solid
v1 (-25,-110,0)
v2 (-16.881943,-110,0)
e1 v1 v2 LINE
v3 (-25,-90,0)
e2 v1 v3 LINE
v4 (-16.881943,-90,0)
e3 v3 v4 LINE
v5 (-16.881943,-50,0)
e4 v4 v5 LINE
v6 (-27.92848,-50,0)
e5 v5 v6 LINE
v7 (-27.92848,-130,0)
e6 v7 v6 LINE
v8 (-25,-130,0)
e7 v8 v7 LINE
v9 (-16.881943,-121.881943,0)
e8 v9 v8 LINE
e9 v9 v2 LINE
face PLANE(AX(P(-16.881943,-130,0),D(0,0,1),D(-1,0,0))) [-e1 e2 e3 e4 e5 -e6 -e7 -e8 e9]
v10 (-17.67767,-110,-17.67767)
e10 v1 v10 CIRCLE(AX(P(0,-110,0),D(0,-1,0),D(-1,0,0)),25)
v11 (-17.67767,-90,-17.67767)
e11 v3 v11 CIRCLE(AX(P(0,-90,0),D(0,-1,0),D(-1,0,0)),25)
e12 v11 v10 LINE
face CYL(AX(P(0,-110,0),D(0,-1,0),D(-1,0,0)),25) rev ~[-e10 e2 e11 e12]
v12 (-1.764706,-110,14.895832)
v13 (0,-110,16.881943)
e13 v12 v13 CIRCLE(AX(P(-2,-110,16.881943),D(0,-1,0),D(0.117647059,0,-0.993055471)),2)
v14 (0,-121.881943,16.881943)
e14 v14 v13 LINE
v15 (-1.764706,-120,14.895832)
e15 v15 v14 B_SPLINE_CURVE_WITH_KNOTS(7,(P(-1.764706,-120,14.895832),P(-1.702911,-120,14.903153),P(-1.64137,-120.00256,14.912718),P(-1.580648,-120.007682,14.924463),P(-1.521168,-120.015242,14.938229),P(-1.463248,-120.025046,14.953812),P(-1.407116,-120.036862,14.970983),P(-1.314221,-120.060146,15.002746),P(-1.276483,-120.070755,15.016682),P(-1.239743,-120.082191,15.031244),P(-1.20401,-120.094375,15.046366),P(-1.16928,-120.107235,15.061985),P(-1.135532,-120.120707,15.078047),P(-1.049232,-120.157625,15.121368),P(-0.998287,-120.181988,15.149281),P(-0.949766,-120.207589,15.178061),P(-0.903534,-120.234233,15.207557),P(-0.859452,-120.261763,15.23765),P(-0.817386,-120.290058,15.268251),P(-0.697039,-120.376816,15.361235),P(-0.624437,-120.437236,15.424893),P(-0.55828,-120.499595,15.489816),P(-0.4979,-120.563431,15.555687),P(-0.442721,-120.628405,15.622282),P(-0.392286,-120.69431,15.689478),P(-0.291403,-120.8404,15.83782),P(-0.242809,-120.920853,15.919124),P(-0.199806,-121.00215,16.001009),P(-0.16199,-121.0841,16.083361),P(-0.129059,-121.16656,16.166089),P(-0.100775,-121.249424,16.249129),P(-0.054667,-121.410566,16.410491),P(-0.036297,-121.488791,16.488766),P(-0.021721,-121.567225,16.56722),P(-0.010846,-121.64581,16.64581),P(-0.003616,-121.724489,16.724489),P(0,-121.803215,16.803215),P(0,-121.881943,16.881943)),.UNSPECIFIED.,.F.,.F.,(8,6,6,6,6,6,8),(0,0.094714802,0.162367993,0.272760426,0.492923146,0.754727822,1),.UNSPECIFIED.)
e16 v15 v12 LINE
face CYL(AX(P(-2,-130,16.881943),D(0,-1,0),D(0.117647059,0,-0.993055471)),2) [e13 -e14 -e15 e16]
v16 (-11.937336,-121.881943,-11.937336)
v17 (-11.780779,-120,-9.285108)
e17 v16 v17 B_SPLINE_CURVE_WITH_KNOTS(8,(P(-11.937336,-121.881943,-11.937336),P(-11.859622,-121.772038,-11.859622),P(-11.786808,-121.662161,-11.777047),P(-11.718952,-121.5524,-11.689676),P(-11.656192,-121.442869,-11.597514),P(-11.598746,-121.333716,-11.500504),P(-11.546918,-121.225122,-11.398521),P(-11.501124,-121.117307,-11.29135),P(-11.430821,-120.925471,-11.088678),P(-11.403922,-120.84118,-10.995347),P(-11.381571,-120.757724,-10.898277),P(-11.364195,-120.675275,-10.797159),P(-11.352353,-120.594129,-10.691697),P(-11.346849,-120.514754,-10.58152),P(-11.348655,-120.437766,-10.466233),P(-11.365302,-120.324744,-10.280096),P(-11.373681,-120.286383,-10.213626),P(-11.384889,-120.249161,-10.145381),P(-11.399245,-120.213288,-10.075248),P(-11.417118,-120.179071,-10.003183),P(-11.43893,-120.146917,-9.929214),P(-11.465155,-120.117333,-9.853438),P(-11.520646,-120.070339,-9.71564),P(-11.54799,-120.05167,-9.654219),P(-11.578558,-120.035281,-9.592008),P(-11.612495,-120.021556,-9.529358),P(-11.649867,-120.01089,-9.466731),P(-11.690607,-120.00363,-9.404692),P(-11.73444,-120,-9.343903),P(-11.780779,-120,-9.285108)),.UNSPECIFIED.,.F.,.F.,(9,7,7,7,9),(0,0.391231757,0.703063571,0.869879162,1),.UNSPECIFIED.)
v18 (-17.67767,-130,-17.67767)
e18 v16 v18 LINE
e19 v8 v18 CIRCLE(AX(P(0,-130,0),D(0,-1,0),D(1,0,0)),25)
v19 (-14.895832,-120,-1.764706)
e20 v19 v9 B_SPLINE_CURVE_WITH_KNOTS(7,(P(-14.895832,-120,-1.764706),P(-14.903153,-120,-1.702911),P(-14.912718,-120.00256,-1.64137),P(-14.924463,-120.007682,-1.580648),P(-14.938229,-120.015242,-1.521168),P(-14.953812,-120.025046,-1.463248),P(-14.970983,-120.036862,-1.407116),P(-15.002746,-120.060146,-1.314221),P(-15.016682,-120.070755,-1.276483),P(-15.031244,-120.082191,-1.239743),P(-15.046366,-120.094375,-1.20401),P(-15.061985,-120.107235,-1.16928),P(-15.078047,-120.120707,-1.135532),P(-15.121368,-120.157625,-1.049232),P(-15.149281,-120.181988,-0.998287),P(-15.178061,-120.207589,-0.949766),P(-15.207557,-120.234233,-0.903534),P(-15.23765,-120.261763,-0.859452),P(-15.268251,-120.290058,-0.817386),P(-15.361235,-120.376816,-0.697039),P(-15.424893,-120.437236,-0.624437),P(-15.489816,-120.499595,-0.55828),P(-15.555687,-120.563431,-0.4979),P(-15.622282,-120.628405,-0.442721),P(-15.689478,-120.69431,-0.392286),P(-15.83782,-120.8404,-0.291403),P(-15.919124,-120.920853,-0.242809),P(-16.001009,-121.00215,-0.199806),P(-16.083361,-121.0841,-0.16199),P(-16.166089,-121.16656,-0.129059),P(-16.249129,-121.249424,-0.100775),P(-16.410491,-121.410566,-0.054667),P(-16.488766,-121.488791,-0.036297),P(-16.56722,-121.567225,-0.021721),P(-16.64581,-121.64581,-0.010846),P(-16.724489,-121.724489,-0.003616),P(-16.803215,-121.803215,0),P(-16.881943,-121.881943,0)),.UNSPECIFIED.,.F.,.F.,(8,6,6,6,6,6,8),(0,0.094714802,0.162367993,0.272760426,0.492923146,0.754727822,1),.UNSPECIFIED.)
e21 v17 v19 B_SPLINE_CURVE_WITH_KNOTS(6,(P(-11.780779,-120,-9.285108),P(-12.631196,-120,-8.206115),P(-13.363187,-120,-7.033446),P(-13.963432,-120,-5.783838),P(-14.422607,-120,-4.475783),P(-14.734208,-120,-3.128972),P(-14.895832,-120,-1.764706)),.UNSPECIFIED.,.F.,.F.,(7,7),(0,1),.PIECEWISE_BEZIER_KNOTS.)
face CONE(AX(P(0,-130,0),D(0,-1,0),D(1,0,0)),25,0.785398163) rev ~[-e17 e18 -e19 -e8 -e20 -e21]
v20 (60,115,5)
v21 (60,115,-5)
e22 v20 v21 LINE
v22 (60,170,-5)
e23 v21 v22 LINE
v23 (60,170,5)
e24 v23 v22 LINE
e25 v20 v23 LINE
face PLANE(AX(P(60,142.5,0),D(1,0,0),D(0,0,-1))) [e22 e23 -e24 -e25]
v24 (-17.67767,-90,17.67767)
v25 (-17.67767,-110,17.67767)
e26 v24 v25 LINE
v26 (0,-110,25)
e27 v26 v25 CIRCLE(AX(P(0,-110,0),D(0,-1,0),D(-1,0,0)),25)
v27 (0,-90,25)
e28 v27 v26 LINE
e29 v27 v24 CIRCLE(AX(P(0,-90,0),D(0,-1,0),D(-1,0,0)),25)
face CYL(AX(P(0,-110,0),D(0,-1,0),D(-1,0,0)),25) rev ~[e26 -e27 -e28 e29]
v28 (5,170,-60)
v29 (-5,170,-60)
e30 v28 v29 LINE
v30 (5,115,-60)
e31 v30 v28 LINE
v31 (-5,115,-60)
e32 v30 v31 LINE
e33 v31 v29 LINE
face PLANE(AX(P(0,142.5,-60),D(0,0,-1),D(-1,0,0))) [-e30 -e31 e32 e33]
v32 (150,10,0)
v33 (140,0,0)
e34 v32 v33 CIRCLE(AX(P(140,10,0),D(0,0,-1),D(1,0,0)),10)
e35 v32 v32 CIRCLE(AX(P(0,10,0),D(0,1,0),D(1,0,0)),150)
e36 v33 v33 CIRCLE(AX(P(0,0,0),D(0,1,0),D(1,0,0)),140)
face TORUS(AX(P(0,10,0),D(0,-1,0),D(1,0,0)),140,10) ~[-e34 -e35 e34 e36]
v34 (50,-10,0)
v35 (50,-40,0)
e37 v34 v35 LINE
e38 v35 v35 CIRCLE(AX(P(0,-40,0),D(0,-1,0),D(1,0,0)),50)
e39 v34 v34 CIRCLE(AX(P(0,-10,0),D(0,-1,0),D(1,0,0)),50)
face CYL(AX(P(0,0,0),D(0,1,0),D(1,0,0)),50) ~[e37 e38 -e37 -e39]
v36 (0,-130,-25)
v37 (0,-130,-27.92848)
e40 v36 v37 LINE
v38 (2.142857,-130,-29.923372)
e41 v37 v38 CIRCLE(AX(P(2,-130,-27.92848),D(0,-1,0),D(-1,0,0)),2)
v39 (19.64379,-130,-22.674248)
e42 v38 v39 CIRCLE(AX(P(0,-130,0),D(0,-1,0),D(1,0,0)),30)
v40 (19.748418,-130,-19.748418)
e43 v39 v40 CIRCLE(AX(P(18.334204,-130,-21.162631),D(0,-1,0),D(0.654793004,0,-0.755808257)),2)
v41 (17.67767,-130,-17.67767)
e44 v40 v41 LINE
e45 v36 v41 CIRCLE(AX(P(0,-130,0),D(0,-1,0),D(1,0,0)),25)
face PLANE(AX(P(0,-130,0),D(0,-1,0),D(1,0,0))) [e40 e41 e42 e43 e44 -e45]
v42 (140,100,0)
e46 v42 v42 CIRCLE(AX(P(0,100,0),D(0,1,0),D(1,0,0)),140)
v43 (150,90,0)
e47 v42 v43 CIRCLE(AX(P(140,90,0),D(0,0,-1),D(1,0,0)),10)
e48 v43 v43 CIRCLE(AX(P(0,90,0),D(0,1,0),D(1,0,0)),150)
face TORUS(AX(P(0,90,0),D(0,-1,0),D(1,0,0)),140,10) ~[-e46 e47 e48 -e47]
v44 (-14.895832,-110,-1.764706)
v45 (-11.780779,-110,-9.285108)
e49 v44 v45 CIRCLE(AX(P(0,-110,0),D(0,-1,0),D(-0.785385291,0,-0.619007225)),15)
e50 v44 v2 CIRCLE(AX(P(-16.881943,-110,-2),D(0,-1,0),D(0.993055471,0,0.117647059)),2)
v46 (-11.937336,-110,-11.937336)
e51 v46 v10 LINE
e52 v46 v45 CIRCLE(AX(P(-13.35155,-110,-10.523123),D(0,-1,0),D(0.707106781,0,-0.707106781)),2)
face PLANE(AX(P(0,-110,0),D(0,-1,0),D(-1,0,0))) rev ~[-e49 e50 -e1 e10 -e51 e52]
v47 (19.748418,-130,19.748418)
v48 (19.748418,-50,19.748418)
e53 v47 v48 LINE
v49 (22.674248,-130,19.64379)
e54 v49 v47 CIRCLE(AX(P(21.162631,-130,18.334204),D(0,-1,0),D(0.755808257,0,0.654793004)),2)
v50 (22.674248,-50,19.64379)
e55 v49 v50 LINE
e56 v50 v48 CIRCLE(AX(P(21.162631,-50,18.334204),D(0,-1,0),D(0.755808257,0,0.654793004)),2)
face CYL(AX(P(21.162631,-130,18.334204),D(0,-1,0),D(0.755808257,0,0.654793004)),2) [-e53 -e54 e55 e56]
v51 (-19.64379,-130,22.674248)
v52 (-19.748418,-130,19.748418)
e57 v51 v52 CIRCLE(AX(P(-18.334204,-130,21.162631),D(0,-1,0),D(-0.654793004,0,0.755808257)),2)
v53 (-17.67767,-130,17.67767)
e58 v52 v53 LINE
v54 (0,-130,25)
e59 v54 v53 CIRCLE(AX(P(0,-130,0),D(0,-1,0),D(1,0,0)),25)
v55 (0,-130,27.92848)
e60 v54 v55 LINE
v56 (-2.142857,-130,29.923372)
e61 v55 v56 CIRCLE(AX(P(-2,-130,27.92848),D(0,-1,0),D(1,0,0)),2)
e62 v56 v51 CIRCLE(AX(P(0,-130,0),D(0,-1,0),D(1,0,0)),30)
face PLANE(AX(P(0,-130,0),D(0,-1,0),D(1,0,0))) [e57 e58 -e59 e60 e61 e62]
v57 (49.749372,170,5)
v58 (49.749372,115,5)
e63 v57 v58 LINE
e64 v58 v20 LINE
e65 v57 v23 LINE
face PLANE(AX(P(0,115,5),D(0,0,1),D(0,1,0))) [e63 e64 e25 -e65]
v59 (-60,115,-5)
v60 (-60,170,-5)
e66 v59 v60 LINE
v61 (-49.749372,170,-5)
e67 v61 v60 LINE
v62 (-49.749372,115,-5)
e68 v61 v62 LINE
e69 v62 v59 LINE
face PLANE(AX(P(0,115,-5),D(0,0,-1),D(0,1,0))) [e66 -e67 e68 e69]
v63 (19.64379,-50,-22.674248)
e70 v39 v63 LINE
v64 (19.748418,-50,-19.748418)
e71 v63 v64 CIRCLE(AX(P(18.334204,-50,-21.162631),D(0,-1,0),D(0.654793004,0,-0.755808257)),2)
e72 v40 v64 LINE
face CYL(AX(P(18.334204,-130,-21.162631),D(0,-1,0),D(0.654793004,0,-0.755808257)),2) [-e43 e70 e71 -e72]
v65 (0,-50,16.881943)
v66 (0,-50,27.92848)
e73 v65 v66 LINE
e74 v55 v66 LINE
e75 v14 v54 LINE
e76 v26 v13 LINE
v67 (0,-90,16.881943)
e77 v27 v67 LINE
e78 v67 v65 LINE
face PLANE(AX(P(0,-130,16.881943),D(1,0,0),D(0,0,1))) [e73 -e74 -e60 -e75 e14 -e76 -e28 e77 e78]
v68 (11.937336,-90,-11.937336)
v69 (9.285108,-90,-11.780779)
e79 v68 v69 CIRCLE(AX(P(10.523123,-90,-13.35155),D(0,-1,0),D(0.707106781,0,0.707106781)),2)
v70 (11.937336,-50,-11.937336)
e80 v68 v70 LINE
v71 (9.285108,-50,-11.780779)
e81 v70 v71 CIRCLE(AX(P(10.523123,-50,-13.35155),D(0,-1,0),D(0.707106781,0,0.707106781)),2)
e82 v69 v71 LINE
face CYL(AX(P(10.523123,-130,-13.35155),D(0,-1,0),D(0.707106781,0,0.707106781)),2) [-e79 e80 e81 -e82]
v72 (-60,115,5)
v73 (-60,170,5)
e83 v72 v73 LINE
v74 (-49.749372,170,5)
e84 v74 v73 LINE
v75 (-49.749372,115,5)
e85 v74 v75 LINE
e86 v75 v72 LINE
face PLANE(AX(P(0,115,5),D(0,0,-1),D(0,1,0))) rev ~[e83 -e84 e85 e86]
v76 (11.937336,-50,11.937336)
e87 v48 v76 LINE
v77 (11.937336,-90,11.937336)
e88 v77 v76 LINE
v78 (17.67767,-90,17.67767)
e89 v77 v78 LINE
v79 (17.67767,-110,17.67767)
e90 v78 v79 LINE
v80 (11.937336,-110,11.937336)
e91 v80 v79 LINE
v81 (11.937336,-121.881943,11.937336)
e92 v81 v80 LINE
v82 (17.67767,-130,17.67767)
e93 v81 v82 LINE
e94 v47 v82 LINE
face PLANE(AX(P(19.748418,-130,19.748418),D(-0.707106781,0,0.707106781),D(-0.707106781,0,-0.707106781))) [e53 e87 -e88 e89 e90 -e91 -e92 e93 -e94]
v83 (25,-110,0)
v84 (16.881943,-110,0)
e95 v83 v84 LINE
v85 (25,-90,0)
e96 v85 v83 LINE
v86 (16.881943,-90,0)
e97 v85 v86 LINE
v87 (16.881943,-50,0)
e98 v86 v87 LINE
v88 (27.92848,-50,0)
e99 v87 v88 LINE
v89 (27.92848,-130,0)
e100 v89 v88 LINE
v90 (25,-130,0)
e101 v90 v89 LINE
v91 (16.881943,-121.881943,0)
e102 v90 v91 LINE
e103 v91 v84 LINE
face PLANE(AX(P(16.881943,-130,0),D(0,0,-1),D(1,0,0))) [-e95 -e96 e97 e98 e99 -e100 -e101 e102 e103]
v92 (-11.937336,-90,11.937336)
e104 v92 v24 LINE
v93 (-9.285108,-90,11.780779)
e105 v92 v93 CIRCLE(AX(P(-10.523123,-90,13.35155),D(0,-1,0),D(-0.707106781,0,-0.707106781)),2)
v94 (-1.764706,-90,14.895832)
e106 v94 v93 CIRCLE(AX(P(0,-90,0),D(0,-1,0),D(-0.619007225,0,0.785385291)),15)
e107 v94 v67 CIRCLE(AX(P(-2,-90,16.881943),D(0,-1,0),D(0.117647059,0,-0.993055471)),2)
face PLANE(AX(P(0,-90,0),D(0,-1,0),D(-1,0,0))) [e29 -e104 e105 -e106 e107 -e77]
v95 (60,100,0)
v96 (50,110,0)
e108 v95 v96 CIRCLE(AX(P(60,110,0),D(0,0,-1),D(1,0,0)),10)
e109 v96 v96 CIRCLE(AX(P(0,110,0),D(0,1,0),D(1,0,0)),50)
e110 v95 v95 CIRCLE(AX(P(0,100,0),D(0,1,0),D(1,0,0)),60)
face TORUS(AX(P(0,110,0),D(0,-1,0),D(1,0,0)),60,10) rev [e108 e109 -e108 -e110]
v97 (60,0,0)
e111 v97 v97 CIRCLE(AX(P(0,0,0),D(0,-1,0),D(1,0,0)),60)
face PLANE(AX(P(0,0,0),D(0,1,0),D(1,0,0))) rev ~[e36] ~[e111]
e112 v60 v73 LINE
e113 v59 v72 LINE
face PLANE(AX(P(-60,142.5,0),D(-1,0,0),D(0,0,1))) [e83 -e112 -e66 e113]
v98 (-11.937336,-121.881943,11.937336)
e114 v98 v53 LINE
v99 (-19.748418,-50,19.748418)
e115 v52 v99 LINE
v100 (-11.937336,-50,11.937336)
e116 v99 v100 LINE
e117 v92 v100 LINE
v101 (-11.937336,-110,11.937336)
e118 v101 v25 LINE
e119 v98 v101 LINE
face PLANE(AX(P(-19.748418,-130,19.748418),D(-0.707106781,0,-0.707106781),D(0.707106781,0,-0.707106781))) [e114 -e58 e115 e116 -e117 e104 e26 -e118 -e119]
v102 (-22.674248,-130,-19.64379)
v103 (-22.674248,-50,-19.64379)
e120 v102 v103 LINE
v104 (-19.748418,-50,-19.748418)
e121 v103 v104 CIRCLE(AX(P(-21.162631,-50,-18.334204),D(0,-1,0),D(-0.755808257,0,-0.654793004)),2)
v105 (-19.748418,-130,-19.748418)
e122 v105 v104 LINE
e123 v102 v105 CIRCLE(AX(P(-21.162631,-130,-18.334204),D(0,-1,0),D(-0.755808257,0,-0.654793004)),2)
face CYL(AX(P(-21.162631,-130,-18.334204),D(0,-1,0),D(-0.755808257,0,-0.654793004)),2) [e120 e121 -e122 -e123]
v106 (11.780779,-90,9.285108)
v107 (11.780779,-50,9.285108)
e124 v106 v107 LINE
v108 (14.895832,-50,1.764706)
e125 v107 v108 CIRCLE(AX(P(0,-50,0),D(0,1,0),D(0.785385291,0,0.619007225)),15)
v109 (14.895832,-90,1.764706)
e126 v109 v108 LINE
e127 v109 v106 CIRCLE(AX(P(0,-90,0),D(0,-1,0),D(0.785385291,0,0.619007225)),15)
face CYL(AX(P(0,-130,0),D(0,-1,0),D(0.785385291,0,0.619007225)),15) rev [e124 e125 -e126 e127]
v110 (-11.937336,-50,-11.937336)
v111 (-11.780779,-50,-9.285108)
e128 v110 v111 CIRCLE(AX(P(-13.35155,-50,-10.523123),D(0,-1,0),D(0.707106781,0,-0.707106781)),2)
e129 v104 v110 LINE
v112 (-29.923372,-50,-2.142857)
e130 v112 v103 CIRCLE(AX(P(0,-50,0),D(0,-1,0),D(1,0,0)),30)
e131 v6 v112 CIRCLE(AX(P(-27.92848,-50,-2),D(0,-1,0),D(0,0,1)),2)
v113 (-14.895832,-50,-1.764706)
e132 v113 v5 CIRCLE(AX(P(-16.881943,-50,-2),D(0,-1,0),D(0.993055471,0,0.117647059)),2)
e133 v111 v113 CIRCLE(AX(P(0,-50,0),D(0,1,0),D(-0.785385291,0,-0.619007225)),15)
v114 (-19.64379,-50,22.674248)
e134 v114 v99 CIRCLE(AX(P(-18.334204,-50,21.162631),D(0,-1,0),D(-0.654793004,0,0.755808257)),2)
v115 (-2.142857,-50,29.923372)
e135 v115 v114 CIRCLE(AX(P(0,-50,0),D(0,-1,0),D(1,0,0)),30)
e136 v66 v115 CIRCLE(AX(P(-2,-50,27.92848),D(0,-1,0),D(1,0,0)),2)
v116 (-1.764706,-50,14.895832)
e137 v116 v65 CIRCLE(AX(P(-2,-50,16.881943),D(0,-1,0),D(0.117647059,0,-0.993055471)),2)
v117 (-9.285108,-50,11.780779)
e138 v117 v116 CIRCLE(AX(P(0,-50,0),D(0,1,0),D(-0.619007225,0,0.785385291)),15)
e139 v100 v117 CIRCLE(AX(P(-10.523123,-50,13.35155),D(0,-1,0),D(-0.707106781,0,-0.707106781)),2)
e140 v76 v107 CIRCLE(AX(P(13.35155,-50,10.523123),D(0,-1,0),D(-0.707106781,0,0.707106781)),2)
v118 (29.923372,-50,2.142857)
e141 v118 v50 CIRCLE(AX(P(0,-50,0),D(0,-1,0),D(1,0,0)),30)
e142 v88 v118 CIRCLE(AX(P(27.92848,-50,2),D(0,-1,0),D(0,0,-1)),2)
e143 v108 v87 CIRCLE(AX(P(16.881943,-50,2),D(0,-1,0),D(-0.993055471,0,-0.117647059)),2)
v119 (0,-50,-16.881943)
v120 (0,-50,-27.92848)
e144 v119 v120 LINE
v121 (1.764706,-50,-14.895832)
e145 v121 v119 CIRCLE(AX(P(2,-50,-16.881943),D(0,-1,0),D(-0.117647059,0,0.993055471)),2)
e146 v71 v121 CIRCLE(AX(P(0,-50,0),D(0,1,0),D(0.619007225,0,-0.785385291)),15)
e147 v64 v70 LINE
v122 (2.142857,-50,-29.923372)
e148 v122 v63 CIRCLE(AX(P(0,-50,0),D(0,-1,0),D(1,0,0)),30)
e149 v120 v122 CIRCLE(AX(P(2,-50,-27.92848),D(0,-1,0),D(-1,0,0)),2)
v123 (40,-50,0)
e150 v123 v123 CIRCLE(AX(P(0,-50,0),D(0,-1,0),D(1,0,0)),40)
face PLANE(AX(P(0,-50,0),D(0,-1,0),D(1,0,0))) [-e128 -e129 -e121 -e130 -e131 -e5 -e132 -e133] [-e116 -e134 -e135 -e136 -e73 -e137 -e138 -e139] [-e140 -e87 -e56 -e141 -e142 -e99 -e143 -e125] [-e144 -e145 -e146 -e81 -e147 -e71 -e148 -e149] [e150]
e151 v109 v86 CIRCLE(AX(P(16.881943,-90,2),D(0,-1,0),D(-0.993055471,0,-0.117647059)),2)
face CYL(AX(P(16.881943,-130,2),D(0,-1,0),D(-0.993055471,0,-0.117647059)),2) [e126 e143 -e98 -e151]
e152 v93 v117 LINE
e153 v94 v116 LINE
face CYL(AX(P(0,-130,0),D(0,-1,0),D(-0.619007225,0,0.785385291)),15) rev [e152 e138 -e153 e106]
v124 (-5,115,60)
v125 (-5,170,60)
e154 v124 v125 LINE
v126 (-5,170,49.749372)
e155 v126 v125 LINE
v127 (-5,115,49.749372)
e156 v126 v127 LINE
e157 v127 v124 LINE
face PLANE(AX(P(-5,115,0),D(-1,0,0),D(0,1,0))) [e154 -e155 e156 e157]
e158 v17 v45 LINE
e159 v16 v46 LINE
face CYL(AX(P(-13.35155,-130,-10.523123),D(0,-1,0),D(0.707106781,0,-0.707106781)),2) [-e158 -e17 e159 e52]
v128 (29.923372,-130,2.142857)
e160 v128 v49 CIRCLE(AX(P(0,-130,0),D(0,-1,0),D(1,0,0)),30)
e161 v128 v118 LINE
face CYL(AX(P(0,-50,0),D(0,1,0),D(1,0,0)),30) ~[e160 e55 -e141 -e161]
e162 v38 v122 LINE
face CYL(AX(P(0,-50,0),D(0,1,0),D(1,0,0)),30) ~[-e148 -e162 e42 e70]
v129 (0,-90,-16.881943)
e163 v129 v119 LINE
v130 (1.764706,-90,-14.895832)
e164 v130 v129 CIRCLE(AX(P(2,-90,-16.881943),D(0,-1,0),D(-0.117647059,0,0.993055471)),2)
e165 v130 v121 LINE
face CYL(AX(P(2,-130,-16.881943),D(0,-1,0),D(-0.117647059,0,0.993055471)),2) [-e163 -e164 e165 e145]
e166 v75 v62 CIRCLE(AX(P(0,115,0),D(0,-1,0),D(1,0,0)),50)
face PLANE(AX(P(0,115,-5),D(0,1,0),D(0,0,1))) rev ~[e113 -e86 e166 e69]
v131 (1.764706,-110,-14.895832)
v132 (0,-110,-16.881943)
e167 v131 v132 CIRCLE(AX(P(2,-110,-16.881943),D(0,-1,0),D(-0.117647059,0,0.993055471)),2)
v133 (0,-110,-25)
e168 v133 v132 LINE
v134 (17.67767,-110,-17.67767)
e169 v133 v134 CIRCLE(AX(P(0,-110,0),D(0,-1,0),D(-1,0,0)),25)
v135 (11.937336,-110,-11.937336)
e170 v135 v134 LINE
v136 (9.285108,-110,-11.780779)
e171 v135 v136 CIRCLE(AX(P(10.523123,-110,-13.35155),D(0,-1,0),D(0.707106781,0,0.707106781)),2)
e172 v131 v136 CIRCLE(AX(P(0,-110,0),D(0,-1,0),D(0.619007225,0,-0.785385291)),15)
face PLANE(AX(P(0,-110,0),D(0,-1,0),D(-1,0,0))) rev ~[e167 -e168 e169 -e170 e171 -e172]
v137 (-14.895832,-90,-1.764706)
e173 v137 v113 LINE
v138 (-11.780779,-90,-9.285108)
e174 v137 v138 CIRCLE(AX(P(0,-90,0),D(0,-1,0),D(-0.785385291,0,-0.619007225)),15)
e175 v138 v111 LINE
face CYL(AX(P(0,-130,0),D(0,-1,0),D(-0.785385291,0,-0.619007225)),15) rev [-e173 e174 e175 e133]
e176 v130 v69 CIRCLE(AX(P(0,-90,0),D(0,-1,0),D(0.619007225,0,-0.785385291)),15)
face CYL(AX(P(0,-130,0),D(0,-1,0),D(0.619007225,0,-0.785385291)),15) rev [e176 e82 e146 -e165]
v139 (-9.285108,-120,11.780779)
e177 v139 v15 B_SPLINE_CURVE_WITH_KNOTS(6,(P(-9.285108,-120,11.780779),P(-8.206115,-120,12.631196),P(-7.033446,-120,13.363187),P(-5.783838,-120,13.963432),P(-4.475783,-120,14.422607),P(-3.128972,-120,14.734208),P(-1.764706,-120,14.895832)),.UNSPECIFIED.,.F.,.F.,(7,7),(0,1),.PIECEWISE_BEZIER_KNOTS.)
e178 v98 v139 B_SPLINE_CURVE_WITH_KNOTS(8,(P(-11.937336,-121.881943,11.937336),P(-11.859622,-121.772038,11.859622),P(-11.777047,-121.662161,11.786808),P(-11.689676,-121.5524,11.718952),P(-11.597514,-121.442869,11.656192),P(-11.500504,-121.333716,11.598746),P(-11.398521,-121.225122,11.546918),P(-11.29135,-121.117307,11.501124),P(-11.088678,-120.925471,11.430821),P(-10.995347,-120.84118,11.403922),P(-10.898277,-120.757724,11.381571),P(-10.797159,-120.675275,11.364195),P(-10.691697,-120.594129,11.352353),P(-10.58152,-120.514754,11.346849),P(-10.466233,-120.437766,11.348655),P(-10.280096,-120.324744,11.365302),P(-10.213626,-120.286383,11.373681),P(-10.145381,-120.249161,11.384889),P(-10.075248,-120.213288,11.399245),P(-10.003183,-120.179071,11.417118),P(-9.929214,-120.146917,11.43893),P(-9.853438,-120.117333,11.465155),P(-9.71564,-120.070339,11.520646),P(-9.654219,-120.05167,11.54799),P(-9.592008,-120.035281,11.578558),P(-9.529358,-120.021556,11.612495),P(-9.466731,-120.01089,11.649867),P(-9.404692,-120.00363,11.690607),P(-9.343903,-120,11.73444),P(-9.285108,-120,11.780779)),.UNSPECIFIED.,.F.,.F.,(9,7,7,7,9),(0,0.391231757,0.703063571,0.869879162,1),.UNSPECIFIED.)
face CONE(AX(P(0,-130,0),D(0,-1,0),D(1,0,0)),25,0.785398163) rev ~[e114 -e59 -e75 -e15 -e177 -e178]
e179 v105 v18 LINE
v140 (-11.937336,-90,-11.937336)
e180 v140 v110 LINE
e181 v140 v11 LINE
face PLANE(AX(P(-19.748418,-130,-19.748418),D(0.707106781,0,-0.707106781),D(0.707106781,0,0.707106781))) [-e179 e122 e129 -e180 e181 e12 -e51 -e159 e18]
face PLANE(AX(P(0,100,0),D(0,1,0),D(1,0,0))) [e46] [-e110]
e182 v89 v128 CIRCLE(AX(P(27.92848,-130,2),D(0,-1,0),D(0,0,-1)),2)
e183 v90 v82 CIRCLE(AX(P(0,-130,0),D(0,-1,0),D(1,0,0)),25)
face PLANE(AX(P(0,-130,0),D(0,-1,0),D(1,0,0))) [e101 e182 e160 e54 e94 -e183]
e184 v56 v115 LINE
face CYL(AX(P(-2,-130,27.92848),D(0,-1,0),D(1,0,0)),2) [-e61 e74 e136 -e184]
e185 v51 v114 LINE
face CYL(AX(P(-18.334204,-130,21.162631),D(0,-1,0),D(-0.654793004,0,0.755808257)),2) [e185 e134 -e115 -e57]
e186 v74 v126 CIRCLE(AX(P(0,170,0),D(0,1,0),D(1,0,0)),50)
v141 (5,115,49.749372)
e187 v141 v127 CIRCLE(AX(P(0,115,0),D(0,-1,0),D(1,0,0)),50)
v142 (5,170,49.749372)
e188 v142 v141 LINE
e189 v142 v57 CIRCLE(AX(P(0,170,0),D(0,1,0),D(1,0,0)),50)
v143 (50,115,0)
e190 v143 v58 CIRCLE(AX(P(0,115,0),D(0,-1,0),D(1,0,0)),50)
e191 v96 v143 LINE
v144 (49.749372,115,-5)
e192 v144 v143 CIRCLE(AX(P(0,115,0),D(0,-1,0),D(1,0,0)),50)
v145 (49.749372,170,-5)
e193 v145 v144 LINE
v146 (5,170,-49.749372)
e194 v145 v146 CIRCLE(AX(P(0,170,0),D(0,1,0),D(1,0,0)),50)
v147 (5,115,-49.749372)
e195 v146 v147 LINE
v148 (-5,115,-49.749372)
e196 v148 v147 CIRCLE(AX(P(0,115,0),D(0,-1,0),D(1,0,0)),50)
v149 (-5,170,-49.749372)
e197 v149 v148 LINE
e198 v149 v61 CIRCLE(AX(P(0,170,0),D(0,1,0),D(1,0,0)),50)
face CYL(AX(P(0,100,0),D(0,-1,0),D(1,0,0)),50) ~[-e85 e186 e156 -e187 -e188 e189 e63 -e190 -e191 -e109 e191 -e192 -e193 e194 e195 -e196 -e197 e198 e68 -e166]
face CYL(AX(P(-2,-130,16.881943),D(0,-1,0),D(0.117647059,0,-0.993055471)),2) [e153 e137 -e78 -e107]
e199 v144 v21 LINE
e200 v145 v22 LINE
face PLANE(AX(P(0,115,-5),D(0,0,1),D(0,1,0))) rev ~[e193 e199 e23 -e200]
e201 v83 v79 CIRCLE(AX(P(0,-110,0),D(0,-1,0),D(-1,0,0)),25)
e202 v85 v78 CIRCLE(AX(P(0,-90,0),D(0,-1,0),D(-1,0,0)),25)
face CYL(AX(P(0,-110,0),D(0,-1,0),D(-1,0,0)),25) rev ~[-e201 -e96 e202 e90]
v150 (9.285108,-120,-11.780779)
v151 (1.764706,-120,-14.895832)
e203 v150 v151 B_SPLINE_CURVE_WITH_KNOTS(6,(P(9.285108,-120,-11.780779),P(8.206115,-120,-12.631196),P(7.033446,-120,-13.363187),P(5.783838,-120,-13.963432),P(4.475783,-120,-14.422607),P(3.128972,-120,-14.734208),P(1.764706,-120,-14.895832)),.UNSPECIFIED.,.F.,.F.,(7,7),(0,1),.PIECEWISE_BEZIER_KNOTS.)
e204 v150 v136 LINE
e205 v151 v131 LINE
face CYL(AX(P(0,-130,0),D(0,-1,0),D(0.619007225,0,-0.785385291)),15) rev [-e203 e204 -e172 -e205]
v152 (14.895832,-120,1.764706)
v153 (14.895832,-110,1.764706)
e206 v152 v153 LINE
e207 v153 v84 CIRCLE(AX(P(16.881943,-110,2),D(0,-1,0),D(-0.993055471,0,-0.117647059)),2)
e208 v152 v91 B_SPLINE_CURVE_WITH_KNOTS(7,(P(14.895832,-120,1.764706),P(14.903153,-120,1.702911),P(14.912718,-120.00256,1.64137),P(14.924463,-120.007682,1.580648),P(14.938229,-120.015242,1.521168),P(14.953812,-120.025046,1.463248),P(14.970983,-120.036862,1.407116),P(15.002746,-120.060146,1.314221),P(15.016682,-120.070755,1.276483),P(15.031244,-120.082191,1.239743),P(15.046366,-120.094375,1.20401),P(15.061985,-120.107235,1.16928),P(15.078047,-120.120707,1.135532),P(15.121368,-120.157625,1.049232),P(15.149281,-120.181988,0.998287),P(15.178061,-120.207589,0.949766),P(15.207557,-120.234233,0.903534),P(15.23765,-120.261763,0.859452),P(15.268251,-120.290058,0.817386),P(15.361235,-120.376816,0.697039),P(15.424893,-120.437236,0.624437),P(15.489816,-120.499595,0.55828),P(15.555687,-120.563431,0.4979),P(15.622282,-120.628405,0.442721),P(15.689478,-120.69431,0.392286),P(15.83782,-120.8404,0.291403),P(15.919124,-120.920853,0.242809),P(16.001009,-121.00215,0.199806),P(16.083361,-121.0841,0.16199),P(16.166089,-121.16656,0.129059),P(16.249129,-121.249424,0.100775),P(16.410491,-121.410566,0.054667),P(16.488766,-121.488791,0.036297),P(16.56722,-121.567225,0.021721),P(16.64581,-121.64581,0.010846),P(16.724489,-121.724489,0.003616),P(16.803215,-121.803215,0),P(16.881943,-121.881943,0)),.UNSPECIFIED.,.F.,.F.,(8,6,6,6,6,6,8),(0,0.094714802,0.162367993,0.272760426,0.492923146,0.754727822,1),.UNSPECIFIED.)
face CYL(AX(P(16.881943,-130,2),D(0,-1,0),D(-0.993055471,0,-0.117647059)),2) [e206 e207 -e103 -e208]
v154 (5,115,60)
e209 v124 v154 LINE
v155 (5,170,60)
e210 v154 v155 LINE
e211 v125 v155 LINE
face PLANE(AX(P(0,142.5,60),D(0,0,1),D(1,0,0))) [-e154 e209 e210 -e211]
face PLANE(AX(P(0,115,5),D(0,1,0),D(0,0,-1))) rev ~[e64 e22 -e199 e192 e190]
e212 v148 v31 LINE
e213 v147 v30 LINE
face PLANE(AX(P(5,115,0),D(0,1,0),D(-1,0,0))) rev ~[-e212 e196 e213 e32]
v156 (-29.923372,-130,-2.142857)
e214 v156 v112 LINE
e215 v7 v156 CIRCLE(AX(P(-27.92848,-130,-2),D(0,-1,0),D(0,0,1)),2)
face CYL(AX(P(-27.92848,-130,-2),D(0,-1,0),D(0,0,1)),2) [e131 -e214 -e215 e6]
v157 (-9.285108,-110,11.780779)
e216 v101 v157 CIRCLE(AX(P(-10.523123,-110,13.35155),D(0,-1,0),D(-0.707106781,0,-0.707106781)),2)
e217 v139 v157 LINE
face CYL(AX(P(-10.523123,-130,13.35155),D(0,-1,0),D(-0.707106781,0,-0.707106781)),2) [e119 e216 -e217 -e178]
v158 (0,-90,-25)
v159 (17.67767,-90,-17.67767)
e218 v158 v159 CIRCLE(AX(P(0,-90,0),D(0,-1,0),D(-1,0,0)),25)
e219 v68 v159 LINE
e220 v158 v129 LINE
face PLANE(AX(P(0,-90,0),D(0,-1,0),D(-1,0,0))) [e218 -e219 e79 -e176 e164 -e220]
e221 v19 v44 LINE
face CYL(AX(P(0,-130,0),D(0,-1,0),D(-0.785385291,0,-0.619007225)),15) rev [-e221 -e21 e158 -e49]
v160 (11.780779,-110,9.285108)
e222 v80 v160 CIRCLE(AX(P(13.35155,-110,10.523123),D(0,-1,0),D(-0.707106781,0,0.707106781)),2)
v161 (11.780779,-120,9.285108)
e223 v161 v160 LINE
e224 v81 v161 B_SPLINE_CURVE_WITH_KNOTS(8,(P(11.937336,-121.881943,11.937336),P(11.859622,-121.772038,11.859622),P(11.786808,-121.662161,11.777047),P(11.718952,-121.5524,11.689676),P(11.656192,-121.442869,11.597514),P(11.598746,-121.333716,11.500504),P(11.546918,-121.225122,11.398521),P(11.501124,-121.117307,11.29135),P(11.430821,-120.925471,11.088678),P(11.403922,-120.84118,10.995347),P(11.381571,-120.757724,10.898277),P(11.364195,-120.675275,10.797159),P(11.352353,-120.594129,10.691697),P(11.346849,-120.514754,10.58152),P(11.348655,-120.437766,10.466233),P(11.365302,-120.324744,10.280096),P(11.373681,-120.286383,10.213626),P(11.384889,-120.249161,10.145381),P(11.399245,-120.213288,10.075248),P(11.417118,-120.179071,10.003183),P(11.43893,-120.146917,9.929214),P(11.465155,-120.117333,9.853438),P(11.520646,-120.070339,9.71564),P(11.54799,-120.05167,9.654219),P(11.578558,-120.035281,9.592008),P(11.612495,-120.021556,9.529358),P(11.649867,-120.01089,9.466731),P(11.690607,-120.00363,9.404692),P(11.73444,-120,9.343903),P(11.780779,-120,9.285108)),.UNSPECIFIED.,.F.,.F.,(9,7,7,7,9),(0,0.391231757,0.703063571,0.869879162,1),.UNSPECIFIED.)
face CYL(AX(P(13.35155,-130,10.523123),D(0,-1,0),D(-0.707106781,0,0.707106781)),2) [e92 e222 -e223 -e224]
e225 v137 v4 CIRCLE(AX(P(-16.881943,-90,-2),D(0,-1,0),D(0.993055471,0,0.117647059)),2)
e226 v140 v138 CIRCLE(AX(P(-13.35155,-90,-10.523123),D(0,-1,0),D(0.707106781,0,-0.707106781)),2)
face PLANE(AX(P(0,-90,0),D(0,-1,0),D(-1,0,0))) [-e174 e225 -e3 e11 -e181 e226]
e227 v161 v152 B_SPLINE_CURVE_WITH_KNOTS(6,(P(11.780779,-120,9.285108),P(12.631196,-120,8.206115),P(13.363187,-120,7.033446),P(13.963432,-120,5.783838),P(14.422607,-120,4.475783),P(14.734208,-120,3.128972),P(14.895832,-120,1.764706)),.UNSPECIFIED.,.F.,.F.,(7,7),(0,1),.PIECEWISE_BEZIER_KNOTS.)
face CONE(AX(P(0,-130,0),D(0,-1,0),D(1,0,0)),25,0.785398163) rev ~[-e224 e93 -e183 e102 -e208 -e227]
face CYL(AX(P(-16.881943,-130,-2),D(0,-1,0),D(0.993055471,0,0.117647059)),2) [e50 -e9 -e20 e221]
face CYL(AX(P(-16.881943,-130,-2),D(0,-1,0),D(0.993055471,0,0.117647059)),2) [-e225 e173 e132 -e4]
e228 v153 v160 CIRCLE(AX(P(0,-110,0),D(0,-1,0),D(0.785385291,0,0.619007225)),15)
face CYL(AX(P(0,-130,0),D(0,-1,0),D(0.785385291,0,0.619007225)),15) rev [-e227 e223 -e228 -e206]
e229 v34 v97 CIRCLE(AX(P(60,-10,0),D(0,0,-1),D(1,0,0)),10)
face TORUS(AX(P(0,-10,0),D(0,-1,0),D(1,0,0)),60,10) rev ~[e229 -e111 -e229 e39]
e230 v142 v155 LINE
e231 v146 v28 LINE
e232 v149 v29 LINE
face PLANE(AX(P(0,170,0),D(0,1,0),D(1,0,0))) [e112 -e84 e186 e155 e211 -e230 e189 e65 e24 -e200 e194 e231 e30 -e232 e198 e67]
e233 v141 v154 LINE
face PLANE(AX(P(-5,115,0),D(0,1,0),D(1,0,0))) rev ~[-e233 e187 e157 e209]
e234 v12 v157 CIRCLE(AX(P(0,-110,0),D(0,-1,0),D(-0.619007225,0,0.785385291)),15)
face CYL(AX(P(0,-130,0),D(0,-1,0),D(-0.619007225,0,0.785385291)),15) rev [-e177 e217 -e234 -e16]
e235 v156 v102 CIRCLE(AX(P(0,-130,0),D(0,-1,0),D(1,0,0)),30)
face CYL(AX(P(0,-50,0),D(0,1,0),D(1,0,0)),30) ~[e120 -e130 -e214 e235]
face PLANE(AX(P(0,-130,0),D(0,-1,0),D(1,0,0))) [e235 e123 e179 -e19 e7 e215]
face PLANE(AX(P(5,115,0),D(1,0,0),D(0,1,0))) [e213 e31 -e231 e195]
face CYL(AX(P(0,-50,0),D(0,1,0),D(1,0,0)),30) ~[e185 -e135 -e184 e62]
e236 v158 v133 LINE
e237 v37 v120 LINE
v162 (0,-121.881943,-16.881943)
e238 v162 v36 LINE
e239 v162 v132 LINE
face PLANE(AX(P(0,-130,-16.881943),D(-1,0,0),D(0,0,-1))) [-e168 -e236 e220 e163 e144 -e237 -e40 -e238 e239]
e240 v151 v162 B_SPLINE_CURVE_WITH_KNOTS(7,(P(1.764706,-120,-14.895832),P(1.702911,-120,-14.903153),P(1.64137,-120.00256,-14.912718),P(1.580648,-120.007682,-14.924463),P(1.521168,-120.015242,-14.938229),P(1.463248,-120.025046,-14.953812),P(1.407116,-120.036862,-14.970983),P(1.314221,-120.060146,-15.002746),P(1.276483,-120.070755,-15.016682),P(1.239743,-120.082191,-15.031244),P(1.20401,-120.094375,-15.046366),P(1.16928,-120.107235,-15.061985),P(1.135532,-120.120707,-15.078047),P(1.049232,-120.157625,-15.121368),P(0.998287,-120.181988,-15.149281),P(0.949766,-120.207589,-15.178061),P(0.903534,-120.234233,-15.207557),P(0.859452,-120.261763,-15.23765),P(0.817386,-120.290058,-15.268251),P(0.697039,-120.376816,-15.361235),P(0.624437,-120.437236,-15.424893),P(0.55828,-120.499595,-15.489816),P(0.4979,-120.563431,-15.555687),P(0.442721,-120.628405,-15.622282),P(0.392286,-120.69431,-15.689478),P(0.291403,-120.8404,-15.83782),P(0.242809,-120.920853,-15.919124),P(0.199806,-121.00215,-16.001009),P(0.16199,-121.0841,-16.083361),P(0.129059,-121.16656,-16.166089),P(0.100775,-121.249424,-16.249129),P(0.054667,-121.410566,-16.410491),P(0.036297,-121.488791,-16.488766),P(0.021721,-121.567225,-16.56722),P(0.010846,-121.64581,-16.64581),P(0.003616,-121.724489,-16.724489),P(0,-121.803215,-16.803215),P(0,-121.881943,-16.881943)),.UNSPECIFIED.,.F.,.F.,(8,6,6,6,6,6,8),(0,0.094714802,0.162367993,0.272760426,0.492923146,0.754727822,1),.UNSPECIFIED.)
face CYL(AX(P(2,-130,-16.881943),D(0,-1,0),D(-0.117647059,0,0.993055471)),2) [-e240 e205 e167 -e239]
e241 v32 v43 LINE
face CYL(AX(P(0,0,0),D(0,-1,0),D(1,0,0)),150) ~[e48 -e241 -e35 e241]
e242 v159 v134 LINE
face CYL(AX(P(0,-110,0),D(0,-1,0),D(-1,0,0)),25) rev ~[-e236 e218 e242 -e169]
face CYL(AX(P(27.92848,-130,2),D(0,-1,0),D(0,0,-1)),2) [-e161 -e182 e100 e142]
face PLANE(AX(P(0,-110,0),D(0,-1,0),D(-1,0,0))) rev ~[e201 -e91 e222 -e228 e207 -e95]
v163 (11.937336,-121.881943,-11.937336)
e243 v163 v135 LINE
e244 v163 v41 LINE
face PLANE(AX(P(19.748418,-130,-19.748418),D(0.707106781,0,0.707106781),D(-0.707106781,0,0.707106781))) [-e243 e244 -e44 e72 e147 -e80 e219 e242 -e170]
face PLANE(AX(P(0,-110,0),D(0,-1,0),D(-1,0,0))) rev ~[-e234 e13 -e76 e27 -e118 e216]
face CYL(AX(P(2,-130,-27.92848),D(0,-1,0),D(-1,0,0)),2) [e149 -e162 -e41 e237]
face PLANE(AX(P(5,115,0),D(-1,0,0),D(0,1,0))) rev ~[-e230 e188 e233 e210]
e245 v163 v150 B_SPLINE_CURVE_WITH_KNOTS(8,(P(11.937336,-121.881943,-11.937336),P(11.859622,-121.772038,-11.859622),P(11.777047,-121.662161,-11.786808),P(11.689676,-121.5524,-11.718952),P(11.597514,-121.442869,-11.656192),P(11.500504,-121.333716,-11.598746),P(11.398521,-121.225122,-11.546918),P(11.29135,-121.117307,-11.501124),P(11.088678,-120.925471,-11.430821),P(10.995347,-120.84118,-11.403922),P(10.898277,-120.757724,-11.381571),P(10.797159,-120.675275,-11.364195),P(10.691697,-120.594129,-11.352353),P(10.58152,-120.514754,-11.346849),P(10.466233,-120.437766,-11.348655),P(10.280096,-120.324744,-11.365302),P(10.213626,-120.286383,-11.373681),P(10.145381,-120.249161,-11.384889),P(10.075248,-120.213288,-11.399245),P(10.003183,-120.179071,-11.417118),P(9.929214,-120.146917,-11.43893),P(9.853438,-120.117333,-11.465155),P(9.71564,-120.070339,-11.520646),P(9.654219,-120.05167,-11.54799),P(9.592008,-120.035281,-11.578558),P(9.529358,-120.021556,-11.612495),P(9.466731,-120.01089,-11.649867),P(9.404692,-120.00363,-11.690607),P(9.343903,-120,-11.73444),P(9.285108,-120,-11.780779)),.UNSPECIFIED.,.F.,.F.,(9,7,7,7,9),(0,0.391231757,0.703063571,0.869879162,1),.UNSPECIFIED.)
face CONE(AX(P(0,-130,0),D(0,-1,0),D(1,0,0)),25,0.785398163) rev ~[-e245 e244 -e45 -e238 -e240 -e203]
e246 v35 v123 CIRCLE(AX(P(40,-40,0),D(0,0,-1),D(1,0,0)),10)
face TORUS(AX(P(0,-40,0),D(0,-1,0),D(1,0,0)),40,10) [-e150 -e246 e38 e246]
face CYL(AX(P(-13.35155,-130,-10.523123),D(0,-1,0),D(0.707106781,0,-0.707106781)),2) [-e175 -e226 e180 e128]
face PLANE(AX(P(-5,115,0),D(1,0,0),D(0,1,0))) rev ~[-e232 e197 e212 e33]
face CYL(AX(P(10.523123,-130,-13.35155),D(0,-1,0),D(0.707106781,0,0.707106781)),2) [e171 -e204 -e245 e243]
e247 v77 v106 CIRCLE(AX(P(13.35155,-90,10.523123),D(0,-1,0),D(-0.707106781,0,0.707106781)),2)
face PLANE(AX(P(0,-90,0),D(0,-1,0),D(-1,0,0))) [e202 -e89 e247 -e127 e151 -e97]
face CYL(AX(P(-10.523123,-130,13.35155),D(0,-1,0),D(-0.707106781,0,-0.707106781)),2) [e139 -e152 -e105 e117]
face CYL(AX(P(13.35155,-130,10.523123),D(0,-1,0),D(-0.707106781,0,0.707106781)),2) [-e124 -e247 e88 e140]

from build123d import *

# Parameters (mm, degrees)
SKETCH1_R           = 150
BOSS_EXTRUDE2_DEPTH = 100
SKETCH2_R           = 50
BOSS_EXTRUDE3_DEPTH = 70
SKETCH3_W           = 10
SKETCH3_H           = 55
BOSS_EXTRUDE4_DEPTH = 60
CIRPATTERN1_COUNT   = 4
SKETCH4_R           = 50
BOSS_EXTRUDE5_DEPTH = 50
SKETCH5_R           = 30
BOSS_EXTRUDE6_DEPTH = 80
CUT_EXTRUDE2_DEPTH  = 80
SKETCH7_R           = 25
CUT_EXTRUDE3_DEPTH  = 20
SKETCH8_R           = 25
CUT_EXTRUDE4_DEPTH  = 39
CUT_EXTRUDE4_DRAFT  = -45
FILLET1_R           = 10
FILLET2_R           = 10
FILLET3_R           = 10
FILLET4_R           = 10


with BuildPart() as part:
    # Sketch1 → Boss-Extrude2 (new body)
    with BuildSketch(Plane(origin=(0, 0, 0), x_dir=(1, 0, 0), z_dir=(0, 1, 0))):
        Circle(SKETCH1_R)
    extrude(amount=BOSS_EXTRUDE2_DEPTH)

    # Sketch2 → Boss-Extrude3 (add)
    with BuildSketch(Plane(origin=(0, 100, 0), x_dir=(1, 0, 0), z_dir=(0, 1, 0))):
        Circle(SKETCH2_R)
    extrude(amount=BOSS_EXTRUDE3_DEPTH)

    # Sketch3 → Boss-Extrude4 (add)
    with BuildSketch(Plane.XY):
        with Locations((0, 142.5)):
            Rectangle(SKETCH3_W, SKETCH3_H)
    boss_extrude4 = extrude(amount=BOSS_EXTRUDE4_DEPTH)

    # CirPattern1: Boss-Extrude4 ×4 about axis
    cirpattern1_axis = Axis((0, 0, 0), (0, 1, 0))
    for i in range(1, CIRPATTERN1_COUNT):
        add(boss_extrude4.rotate(cirpattern1_axis, i * 360 / CIRPATTERN1_COUNT))

    # Sketch4 → Boss-Extrude5 (add)
    with BuildSketch(Plane.XZ):
        Circle(SKETCH4_R)
    extrude(amount=BOSS_EXTRUDE5_DEPTH)

    # Sketch5 → Boss-Extrude6 (add)
    with BuildSketch(Plane.XZ.offset(50)):
        Circle(SKETCH5_R)
    extrude(amount=BOSS_EXTRUDE6_DEPTH)

    # Sketch6 → Cut-Extrude2 (cut)
    with BuildSketch(Plane.XZ.offset(130)):
        with BuildLine():
            Line((0, 16.881943016), (0, 27.928480088))
            ThreePointArc((0, 27.928480088), (-0.637229712, 29.392330197), (-2.142857143, 29.923371522))
            ThreePointArc((-2.142857143, 29.923371522), (11.480502971, 27.716385975), (22.674247736, 19.643790103))
            ThreePointArc((22.674247736, 19.643790103), (21.234105448, 20.332926546), (19.748417658, 19.748417658))
            Line((19.748417658, 19.748417658), (11.937336386, 11.937336386))
            ThreePointArc((11.937336386, 11.937336386), (11.355025232, 10.640974667), (11.780779366, 9.285108374))
            ThreePointArc((11.780779366, 9.285108374), (13.858192988, 5.740251485), (14.895832073, 1.764705882))
            ThreePointArc((14.895832073, 1.764705882), (15.553520688, 0.504909997), (16.881943016, 0))
            Line((16.881943016, 0), (27.928480088, 0))
            ThreePointArc((27.928480088, 0), (29.392330197, 0.637229712), (29.923371522, 2.142857143))
            ThreePointArc((29.923371522, 2.142857143), (27.716385975, -11.480502971), (19.643790103, -22.674247736))
            ThreePointArc((19.643790103, -22.674247736), (20.332926546, -21.234105448), (19.748417658, -19.748417658))
            Line((19.748417658, -19.748417658), (11.937336386, -11.937336386))
            ThreePointArc((11.937336386, -11.937336386), (10.640974667, -11.355025232), (9.285108374, -11.780779366))
            ThreePointArc((9.285108374, -11.780779366), (5.740251485, -13.858192988), (1.764705882, -14.895832073))
            ThreePointArc((1.764705882, -14.895832073), (0.504909997, -15.553520688), (0, -16.881943016))
            Line((0, -16.881943016), (0, -27.928480088))
            ThreePointArc((0, -27.928480088), (0.637229712, -29.392330197), (2.142857143, -29.923371522))
            ThreePointArc((2.142857143, -29.923371522), (-11.480502971, -27.716385975), (-22.674247736, -19.643790103))
            ThreePointArc((-22.674247736, -19.643790103), (-21.234105448, -20.332926546), (-19.748417658, -19.748417658))
            Line((-19.748417658, -19.748417658), (-11.937336386, -11.937336386))
            ThreePointArc((-11.937336386, -11.937336386), (-11.355025232, -10.640974667), (-11.780779366, -9.285108374))
            ThreePointArc((-11.780779366, -9.285108374), (-13.858192988, -5.740251485), (-14.895832073, -1.764705882))
            ThreePointArc((-14.895832073, -1.764705882), (-15.553520688, -0.504909997), (-16.881943016, 0))
            Line((-16.881943016, 0), (-27.928480088, 0))
            ThreePointArc((-27.928480088, 0), (-29.392330197, -0.637229712), (-29.923371522, -2.142857143))
            ThreePointArc((-29.923371522, -2.142857143), (-27.716385975, 11.480502971), (-19.643790103, 22.674247736))
            ThreePointArc((-19.643790103, 22.674247736), (-20.332926546, 21.234105448), (-19.748417658, 19.748417658))
            Line((-19.748417658, 19.748417658), (-11.937336386, 11.937336386))
            ThreePointArc((-11.937336386, 11.937336386), (-10.640974667, 11.355025232), (-9.285108374, 11.780779366))
            ThreePointArc((-9.285108374, 11.780779366), (-5.740251485, 13.858192988), (-1.764705882, 14.895832073))
            ThreePointArc((-1.764705882, 14.895832073), (-0.504909997, 15.553520688), (0, 16.881943016))
        make_face()
    extrude(amount=-CUT_EXTRUDE2_DEPTH, mode=Mode.SUBTRACT)

    # Sketch7 → Cut-Extrude3 (cut)
    with BuildSketch(Plane(origin=(0, -110, 0), x_dir=(-1, 0, 0), z_dir=(0, -1, 0))):
        Circle(SKETCH7_R)
    extrude(amount=-CUT_EXTRUDE3_DEPTH, mode=Mode.SUBTRACT)


with BuildPart() as cut_extrude4_tool:
    # Sketch8 → Cut-Extrude4 (with draft: the straight prism first)
    with BuildSketch(Plane.XZ.offset(130)):
        Circle(SKETCH8_R)
    extrude(amount=-CUT_EXTRUDE4_DEPTH)
    # Cut-Extrude4: the draft: its side faces are tilted about the plane it starts from
    cut_extrude4_sides = [cut_extrude4_tool.faces().sort_by_distance(p)[0] for p in [
        (-25, -110.5, 0),
    ]]
    draft(cut_extrude4_sides, Plane.XZ.offset(130), CUT_EXTRUDE4_DRAFT)


with BuildPart() as part_1:
    add(part.part)

    # Cut-Extrude4: cut by cut_extrude4_tool
    add(cut_extrude4_tool.part, mode=Mode.SUBTRACT)

    # Fillet1
    fillet1_edges = [part_1.edges().sort_by_distance(p)[0] for p in [
        (-150, 0, 0),
        (-150, 100, 0),
    ]]
    fillet(fillet1_edges, radius=FILLET1_R)

    # Fillet2
    fillet2_edges = [part_1.edges().sort_by_distance(p)[0] for p in [
        (-50, -50, 0),
    ]]
    fillet(fillet2_edges, radius=FILLET2_R)

    # Fillet3
    fillet3_edges = [part_1.edges().sort_by_distance(p)[0] for p in [
        (-50, 0, 0),
    ]]
    fillet(fillet3_edges, radius=FILLET3_R)

    # Fillet4
    fillet4_edges = [part_1.edges().sort_by_distance(p)[0] for p in [
        (-50, 100, 0),
    ]]
    fillet(fillet4_edges, radius=FILLET4_R)


solid = part_1.part
